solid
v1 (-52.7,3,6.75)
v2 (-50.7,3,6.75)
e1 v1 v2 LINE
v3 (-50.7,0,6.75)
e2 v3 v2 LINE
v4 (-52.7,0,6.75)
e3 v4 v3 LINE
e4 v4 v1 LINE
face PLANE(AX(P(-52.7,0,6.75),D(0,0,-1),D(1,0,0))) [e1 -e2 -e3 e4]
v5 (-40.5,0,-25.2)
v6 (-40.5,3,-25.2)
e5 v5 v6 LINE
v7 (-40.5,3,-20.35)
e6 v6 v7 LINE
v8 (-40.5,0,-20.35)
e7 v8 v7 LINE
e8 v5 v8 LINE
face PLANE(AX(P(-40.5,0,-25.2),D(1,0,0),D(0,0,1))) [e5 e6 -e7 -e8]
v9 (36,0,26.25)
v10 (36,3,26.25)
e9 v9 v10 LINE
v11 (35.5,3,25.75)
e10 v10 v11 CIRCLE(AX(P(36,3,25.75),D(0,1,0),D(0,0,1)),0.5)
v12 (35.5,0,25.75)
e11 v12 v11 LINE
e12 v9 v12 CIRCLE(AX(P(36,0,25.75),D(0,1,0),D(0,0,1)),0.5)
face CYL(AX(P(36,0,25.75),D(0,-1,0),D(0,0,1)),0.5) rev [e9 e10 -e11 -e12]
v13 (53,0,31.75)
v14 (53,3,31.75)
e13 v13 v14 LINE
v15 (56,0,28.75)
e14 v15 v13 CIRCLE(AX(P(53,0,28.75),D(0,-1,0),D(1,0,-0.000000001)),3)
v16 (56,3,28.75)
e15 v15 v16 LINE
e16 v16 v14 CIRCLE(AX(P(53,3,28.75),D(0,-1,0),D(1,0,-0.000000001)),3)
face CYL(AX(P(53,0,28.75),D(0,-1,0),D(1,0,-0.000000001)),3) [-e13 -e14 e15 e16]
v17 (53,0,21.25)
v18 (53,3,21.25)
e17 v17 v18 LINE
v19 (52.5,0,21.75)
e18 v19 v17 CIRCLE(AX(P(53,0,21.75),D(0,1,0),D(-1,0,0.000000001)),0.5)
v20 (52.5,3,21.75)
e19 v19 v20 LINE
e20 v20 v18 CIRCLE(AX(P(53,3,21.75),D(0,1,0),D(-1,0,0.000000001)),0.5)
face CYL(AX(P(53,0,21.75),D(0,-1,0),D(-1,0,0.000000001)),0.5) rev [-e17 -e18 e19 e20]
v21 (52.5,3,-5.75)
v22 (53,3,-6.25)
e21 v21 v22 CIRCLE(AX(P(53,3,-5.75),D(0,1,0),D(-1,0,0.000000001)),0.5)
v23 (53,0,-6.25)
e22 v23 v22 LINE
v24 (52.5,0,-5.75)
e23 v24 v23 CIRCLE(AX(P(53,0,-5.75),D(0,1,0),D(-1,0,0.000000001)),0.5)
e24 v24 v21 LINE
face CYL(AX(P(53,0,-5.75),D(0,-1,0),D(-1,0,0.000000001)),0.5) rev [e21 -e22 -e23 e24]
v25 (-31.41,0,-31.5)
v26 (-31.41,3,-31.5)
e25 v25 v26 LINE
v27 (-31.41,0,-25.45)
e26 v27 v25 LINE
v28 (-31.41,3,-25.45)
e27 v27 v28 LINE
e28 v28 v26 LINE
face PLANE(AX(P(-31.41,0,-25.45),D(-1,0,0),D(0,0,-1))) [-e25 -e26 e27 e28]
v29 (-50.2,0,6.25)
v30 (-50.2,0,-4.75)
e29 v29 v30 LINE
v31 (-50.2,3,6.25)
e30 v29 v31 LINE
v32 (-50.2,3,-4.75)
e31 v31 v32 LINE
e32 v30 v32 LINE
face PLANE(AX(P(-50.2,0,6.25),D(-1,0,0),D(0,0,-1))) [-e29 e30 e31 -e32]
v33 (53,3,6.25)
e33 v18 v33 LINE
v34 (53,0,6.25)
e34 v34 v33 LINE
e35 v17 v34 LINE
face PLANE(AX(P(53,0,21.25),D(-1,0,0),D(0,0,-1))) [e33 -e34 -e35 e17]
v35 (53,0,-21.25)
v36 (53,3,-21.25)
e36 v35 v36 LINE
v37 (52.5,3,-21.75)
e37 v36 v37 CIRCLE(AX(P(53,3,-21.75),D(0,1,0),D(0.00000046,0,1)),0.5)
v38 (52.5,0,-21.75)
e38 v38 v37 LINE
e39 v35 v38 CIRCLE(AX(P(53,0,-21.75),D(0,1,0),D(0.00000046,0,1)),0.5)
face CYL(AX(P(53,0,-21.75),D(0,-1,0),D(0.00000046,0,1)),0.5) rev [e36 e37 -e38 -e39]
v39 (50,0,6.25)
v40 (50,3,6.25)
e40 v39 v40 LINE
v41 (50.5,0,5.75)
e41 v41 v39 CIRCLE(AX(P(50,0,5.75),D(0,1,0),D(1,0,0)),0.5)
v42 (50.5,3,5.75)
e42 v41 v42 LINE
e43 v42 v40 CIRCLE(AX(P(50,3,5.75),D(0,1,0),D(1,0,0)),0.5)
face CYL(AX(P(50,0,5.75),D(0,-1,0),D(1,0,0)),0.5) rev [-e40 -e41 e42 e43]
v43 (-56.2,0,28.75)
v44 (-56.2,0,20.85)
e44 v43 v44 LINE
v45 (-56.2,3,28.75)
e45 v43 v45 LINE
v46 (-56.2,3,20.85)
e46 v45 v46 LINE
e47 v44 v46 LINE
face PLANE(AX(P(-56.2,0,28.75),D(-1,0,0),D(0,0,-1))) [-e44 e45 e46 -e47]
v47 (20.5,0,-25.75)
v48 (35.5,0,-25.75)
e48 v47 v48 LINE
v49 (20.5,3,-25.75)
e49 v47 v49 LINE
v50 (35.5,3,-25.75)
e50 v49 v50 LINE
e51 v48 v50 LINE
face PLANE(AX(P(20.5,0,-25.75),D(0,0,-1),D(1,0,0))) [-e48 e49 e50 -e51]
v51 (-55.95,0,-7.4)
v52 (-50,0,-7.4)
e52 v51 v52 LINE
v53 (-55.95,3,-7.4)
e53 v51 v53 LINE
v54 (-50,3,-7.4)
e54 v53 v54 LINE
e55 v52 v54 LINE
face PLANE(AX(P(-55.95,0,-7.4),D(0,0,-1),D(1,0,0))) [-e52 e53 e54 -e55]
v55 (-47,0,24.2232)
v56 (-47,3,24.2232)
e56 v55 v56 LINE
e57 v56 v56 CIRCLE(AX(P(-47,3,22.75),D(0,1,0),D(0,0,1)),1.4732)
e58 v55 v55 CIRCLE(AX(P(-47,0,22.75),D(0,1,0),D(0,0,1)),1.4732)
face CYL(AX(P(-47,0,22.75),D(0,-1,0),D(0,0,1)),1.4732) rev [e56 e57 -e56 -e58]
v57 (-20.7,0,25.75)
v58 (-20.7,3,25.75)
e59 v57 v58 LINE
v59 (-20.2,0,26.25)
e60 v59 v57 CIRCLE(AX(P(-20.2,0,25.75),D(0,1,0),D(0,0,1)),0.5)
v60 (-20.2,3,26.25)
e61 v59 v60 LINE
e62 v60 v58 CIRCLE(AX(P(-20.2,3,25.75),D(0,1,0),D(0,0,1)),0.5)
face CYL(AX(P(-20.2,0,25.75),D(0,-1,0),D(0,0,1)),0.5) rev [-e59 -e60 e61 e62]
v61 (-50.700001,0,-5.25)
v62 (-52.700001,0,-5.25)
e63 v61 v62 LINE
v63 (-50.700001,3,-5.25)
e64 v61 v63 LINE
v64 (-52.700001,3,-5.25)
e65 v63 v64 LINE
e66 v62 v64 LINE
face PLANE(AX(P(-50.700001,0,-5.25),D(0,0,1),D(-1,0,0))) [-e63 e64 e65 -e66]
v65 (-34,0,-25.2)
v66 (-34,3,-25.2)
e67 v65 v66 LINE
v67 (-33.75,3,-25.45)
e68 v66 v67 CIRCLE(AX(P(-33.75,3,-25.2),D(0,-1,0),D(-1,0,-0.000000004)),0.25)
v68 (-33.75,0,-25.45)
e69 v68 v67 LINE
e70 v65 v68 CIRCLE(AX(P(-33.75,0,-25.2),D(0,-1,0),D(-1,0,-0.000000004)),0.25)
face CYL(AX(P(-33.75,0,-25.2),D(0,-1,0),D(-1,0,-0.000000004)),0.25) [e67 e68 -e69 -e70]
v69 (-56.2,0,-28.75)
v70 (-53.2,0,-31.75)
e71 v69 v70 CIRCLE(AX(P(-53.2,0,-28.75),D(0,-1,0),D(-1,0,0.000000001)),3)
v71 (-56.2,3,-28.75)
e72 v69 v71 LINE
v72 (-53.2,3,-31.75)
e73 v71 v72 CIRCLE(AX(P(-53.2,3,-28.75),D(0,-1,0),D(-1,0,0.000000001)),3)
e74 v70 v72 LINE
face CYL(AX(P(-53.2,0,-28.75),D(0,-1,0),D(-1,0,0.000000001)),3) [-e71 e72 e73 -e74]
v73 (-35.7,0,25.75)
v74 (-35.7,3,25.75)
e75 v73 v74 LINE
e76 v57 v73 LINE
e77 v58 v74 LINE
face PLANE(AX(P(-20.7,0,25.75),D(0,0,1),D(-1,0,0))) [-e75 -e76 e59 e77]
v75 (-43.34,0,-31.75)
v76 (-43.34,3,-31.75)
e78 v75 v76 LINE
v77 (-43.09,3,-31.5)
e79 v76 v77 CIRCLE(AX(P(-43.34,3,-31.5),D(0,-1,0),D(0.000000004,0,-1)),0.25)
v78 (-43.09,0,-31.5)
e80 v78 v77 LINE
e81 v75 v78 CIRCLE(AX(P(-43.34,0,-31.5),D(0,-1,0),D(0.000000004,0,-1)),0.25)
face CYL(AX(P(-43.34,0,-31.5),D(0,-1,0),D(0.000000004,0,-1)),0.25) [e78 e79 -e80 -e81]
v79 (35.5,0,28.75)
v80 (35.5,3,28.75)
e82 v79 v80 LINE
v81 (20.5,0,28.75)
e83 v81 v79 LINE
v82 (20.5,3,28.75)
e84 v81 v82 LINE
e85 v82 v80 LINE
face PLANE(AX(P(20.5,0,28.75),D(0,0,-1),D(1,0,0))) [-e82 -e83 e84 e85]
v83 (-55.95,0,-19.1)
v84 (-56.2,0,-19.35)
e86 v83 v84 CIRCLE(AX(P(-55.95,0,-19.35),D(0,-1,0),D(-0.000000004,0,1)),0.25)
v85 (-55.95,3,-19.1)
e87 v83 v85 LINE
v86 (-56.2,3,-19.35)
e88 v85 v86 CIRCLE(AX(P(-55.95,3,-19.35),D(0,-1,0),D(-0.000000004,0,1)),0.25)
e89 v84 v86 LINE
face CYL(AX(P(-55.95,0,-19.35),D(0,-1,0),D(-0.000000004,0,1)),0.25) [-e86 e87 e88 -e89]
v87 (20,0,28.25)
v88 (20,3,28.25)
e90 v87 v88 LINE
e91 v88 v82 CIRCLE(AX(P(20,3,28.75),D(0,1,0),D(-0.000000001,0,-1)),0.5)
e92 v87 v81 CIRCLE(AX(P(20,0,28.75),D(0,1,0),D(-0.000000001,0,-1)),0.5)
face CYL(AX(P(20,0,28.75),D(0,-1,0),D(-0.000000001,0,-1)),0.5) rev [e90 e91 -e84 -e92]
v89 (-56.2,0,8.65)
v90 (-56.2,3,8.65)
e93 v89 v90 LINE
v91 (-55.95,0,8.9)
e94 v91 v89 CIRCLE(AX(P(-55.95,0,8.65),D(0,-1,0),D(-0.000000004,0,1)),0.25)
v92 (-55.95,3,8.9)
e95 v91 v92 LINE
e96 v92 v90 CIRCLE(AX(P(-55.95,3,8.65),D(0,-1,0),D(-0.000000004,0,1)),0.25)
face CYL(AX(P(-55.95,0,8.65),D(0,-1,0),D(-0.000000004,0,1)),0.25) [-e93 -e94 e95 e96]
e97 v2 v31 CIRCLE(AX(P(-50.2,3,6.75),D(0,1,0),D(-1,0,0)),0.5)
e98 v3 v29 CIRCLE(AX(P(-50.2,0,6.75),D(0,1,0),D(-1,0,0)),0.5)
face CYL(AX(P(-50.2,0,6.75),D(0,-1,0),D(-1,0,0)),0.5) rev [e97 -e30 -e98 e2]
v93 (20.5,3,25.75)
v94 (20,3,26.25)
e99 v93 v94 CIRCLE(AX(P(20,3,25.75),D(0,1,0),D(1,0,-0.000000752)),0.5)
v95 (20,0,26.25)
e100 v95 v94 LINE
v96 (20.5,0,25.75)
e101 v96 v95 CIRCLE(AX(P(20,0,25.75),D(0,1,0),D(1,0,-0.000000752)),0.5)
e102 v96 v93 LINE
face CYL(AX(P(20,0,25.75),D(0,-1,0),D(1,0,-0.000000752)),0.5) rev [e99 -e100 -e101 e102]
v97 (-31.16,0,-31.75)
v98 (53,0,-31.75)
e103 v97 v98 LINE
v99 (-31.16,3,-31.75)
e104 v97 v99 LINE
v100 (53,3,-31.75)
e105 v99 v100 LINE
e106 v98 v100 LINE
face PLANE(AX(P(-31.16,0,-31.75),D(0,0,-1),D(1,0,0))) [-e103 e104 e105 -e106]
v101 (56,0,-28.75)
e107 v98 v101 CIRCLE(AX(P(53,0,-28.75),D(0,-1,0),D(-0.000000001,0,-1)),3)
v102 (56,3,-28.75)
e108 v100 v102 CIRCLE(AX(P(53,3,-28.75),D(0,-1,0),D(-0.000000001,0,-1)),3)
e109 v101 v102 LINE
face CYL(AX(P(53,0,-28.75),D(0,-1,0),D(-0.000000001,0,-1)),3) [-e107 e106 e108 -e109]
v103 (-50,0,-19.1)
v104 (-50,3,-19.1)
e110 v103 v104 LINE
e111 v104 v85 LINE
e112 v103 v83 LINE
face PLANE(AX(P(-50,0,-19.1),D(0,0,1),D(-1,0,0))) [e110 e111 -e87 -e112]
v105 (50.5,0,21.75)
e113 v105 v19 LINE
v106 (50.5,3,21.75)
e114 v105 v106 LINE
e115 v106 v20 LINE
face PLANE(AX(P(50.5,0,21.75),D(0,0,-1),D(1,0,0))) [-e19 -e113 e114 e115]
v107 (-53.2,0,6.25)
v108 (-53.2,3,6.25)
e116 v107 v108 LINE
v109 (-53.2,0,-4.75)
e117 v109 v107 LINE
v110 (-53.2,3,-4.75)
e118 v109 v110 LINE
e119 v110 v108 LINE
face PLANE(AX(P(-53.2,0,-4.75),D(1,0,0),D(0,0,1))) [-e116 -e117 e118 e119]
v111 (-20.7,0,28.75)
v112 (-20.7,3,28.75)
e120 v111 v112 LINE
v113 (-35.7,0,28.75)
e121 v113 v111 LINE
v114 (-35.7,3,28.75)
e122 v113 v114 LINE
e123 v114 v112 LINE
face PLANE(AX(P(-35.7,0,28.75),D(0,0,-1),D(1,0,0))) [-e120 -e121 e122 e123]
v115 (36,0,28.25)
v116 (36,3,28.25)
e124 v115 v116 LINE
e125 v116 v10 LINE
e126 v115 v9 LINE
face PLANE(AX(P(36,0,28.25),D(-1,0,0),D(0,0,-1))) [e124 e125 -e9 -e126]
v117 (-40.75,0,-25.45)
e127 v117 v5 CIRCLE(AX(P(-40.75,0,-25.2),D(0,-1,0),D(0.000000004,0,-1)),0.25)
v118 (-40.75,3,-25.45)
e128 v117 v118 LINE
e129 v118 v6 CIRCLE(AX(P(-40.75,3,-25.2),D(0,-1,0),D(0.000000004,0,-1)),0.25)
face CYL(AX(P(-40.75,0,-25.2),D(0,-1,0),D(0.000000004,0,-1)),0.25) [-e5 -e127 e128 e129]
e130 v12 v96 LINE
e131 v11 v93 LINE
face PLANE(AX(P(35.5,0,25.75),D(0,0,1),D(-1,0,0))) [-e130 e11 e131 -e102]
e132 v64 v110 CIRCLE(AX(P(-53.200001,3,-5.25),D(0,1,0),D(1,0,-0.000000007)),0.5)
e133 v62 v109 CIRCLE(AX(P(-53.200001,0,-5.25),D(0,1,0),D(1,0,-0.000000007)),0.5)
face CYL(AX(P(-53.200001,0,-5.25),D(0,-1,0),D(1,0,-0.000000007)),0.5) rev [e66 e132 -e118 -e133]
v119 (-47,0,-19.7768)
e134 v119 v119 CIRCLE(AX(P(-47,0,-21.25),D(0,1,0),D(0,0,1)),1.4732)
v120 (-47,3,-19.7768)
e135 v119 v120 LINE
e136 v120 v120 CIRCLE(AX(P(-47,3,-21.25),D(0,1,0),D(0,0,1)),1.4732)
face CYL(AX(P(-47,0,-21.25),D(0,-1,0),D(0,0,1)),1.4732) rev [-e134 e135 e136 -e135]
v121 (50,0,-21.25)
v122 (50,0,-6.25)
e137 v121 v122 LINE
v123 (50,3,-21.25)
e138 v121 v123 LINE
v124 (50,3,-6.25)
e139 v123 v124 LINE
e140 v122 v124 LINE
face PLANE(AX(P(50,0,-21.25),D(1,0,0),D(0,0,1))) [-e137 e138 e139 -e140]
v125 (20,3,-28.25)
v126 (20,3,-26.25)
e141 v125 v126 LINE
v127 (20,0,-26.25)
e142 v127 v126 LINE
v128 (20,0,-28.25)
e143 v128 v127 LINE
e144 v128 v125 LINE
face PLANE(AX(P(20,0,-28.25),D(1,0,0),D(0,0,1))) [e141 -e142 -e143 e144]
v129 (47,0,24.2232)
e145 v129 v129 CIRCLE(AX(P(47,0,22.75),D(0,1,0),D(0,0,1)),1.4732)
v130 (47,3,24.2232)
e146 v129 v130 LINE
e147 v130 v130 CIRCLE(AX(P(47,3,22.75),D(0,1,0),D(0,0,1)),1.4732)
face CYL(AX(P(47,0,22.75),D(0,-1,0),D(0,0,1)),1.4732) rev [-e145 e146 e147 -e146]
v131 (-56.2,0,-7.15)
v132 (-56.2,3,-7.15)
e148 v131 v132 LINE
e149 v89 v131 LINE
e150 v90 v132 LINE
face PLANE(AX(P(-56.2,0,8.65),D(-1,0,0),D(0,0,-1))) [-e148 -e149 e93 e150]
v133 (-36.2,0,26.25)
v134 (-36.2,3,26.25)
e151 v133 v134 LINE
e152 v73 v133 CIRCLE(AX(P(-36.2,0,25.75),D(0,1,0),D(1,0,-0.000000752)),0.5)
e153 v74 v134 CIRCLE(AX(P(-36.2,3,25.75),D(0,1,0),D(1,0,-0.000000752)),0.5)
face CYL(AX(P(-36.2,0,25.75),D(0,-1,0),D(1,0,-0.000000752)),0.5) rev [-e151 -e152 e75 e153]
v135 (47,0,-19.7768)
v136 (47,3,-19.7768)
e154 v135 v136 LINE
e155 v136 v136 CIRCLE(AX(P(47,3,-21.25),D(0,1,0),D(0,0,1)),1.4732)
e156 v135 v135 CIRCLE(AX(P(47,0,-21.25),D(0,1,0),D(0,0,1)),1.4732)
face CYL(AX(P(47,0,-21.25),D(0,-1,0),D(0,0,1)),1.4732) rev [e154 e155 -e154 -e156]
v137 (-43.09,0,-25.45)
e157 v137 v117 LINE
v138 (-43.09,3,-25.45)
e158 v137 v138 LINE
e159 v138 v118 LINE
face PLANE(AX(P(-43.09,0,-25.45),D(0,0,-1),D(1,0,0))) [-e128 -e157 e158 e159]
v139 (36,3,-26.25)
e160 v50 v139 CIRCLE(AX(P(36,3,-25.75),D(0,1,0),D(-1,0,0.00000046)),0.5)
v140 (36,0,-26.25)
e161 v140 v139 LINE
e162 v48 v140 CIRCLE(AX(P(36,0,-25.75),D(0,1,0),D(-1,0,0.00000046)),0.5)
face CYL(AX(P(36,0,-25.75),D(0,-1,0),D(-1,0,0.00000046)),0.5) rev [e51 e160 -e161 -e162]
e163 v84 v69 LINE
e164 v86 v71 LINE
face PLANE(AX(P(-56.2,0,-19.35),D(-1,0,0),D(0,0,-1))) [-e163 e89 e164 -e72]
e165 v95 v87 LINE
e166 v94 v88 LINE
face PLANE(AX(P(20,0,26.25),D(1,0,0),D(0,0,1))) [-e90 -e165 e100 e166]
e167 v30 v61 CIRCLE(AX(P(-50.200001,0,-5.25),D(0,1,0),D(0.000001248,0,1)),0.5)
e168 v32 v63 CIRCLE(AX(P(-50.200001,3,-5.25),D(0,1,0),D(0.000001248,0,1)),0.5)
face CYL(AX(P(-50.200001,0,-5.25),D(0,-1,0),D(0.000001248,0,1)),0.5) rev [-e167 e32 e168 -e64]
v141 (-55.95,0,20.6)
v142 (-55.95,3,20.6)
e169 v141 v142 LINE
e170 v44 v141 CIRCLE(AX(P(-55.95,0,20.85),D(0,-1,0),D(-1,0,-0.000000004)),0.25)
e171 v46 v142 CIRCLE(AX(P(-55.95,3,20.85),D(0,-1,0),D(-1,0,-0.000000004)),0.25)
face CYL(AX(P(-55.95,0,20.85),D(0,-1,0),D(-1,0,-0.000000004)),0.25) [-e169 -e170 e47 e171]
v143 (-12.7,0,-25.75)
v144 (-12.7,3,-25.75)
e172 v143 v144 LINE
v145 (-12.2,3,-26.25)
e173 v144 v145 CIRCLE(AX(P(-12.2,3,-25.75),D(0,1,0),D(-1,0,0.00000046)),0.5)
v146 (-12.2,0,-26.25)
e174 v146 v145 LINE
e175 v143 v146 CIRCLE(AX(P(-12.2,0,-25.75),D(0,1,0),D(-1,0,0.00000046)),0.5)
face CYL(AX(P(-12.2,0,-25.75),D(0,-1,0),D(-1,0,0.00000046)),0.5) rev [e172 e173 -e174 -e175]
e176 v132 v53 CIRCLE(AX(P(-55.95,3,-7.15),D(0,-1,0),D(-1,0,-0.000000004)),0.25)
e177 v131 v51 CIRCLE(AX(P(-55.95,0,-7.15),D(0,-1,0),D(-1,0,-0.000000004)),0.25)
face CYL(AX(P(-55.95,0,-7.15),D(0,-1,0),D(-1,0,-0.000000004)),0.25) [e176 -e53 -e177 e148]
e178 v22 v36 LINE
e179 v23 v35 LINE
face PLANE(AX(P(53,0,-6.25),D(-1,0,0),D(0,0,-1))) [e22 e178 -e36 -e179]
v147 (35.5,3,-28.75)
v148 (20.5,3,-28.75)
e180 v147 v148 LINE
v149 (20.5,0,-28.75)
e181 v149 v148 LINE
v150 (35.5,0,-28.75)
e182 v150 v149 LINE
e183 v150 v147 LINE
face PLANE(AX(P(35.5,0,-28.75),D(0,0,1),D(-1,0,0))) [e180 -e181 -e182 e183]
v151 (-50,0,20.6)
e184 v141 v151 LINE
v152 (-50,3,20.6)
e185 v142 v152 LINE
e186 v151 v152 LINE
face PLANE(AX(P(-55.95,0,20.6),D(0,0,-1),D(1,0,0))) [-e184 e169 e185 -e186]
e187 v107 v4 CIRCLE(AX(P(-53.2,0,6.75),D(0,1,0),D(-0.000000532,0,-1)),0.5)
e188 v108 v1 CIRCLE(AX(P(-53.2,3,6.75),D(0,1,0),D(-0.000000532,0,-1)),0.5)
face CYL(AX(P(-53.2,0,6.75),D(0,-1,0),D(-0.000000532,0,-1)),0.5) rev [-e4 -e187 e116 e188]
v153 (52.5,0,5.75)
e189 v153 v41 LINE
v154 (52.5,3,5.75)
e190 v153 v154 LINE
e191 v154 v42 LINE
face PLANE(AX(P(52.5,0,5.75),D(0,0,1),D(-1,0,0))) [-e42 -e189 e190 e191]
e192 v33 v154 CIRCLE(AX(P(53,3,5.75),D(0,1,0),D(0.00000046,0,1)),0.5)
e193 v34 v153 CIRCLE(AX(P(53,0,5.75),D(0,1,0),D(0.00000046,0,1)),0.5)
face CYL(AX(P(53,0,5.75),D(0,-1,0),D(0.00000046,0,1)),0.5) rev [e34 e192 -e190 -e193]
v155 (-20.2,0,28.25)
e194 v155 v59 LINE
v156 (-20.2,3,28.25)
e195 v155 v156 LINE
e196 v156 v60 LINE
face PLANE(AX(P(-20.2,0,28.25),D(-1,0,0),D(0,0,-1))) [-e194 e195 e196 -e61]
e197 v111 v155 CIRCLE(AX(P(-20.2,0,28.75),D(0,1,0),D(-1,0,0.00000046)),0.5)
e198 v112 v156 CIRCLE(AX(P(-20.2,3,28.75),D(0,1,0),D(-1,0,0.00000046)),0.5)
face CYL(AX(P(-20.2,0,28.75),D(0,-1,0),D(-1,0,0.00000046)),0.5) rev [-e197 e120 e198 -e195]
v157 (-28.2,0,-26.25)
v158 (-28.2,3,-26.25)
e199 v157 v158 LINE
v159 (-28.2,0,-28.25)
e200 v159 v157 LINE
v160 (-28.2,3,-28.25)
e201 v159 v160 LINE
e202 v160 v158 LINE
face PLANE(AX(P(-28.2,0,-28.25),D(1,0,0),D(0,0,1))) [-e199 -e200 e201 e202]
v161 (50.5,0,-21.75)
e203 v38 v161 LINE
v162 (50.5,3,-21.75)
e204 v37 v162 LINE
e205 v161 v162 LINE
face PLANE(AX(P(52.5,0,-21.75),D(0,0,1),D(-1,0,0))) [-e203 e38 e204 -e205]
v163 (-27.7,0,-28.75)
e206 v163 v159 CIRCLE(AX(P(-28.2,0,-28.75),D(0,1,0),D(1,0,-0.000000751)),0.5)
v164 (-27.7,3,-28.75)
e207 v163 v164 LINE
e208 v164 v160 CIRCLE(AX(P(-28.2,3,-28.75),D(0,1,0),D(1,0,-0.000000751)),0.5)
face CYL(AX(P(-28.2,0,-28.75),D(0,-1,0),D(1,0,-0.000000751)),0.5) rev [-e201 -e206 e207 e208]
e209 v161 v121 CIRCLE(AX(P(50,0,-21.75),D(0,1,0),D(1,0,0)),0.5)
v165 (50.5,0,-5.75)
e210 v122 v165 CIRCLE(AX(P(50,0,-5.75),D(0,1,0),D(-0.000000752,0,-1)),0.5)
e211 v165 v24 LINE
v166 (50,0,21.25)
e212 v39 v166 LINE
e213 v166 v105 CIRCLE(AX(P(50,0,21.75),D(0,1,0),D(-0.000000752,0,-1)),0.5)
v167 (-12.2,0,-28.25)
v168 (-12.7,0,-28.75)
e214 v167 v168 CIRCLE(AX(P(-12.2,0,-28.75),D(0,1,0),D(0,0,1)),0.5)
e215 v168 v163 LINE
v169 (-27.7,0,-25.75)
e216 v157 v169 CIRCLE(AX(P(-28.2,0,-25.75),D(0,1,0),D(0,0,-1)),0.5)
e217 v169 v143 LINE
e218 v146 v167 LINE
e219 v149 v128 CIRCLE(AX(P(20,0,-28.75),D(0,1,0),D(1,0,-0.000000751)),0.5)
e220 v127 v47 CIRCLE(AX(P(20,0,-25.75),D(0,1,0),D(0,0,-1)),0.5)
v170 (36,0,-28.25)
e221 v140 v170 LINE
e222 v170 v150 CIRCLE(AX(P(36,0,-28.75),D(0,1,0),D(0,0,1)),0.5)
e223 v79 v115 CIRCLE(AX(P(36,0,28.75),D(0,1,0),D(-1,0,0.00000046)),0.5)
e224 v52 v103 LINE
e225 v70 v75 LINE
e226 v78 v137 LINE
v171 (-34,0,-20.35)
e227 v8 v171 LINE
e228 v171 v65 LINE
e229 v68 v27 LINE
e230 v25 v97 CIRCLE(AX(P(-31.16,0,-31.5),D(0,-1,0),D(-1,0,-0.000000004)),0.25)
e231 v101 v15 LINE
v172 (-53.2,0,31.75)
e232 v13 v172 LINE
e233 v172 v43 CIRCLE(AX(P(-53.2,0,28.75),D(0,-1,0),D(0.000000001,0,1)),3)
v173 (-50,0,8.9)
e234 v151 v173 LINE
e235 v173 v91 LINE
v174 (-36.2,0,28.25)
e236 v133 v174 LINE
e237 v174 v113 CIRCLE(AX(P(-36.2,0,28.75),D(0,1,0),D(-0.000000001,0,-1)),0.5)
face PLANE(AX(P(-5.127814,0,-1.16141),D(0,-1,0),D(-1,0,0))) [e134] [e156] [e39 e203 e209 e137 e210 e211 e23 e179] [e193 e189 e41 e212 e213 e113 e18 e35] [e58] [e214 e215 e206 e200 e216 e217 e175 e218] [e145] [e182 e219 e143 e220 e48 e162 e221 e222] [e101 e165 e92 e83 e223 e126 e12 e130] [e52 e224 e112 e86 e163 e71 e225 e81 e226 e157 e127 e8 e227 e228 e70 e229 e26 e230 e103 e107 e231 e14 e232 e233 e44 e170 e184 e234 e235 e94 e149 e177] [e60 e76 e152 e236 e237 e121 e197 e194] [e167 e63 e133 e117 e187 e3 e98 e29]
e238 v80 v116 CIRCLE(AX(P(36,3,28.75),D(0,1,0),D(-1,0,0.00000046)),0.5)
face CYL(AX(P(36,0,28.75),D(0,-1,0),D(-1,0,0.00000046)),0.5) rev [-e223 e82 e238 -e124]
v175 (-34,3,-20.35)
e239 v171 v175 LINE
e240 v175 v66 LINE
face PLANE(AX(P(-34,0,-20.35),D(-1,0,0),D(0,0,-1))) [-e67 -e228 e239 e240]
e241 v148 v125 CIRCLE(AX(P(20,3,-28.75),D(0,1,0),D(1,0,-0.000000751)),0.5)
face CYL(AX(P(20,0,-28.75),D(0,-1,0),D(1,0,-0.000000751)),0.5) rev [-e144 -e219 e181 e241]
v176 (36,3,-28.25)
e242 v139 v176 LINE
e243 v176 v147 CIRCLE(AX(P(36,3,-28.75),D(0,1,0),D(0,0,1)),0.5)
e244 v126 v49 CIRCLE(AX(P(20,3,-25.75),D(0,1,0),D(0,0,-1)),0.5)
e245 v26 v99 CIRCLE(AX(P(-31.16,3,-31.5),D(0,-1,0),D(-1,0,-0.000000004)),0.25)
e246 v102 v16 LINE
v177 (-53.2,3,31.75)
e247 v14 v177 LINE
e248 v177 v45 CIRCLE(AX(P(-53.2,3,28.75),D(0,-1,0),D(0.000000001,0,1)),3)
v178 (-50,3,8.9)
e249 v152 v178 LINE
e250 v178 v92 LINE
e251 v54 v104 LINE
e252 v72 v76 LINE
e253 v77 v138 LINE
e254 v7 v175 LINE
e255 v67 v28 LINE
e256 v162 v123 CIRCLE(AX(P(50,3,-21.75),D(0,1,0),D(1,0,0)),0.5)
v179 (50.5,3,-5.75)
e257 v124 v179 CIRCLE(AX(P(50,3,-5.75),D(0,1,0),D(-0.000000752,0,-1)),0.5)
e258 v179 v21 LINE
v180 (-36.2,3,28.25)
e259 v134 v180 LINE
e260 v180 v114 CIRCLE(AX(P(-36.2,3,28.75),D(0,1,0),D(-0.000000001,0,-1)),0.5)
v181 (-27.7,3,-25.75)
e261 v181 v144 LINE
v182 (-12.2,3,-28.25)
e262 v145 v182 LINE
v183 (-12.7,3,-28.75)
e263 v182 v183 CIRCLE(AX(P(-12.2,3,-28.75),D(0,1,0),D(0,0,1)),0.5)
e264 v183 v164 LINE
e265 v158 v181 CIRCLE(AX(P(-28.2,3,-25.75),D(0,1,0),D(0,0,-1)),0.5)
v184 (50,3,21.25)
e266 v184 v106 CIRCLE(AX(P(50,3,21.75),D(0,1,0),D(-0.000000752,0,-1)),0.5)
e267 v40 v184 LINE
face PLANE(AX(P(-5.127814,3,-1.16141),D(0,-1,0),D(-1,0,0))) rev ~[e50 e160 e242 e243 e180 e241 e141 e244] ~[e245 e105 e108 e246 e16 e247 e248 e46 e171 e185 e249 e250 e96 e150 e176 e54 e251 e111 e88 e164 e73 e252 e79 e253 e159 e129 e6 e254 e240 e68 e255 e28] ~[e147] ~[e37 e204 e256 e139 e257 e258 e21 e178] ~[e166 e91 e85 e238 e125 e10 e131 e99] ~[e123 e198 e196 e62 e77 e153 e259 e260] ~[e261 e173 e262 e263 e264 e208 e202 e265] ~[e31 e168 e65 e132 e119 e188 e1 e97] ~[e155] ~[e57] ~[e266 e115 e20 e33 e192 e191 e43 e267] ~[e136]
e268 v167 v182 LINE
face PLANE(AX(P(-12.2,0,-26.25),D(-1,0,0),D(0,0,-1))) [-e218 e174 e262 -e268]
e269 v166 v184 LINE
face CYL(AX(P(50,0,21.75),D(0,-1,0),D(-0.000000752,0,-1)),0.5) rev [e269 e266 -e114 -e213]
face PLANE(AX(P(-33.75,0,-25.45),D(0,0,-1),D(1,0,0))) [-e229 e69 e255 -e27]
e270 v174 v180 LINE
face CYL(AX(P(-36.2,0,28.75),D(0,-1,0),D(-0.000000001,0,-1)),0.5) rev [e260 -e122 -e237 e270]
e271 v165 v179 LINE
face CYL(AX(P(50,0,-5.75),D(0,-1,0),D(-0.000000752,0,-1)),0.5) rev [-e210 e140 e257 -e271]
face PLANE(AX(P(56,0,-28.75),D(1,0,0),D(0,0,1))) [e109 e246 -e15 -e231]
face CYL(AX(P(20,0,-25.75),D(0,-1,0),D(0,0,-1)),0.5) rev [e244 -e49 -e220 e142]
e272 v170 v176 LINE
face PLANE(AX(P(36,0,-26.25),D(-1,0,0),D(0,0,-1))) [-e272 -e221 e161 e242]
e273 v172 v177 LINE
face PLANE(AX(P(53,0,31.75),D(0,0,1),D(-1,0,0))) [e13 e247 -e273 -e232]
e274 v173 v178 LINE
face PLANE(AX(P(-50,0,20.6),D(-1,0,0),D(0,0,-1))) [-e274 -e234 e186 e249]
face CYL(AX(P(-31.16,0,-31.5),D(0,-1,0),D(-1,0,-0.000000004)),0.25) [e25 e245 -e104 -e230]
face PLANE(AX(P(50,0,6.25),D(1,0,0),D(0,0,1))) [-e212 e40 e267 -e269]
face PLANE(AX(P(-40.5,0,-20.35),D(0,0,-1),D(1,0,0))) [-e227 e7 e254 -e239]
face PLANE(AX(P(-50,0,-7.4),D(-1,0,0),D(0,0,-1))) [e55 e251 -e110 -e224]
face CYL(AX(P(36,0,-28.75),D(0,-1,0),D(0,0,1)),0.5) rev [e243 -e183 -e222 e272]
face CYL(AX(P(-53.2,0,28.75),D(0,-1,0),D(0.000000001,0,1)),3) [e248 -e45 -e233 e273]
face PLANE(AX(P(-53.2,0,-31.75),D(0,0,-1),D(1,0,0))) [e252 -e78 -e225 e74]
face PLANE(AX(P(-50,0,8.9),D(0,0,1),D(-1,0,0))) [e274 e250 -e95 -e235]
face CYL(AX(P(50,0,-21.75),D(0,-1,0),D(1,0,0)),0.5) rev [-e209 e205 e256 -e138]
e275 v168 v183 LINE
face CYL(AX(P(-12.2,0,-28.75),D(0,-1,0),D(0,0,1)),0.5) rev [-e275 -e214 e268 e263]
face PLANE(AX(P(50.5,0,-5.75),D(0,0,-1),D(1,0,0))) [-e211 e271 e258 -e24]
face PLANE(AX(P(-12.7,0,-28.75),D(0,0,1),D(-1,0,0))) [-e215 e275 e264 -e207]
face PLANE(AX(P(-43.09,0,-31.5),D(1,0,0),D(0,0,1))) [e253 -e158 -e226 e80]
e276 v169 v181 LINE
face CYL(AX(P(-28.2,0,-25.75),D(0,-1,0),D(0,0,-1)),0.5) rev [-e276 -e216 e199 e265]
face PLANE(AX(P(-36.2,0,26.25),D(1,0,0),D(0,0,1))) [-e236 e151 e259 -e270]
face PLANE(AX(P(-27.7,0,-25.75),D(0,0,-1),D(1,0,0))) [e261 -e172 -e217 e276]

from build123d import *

# Parameters (mm, degrees)
SKETCH1_R           = 1.4732
BOSS_EXTRUDE1_DEPTH = 3


with BuildPart() as part:
    # Sketch1 → Boss-Extrude1 (new body)
    with BuildSketch(Plane(origin=(0, 0, 0), x_dir=(1, 0, 0), z_dir=(0, 1, 0))):
        with BuildLine():
            Line((-33.75, 25.45), (-31.41, 25.45))
            Line((-31.41, 25.45), (-31.41, 31.5))
            ThreePointArc((-31.41, 31.5), (-31.336776695, 31.676776695), (-31.16, 31.75))
            Line((-31.16, 31.75), (53, 31.75))
            ThreePointArc((53, 31.75), (55.121320344, 30.871320344), (56, 28.75))
            Line((56, 28.75), (56, -28.75))
            ThreePointArc((56, -28.75), (55.121320344, -30.871320344), (53, -31.75))
            Line((53, -31.75), (-53.2, -31.75))
            ThreePointArc((-53.2, -31.75), (-55.321320344, -30.871320344), (-56.2, -28.75))
            Line((-56.2, -28.75), (-56.2, -20.85))
            ThreePointArc((-56.2, -20.85), (-56.126776695, -20.673223305), (-55.95, -20.6))
            Line((-55.95, -20.6), (-50, -20.6))
            Line((-50, -20.6), (-50, -8.9))
            Line((-50, -8.9), (-55.95, -8.9))
            ThreePointArc((-55.95, -8.9), (-56.126776695, -8.826776695), (-56.2, -8.65))
            Line((-56.2, -8.65), (-56.2, 7.15))
            ThreePointArc((-56.2, 7.15), (-56.126776695, 7.326776695), (-55.95, 7.4))
            Line((-55.95, 7.4), (-50, 7.4))
            Line((-50, 7.4), (-50, 19.1))
            Line((-50, 19.1), (-55.95, 19.1))
            ThreePointArc((-55.95, 19.1), (-56.126776695, 19.173223305), (-56.2, 19.35))
            Line((-56.2, 19.35), (-56.2, 28.75))
            ThreePointArc((-56.2, 28.75), (-55.321320344, 30.871320344), (-53.2, 31.75))
            Line((-53.2, 31.75), (-43.34, 31.75))
            ThreePointArc((-43.34, 31.75), (-43.163223305, 31.676776695), (-43.09, 31.5))
            Line((-43.09, 31.5), (-43.09, 25.45))
            Line((-43.09, 25.45), (-40.75, 25.45))
            ThreePointArc((-40.75, 25.45), (-40.573223305, 25.376776695), (-40.5, 25.2))
            Line((-40.5, 25.2), (-40.5, 20.35))
            Line((-40.5, 20.35), (-34, 20.35))
            Line((-34, 20.35), (-34, 25.2))
            ThreePointArc((-34, 25.2), (-33.926776695, 25.376776695), (-33.75, 25.45))
        make_face()
        with Locations(Location((-47, 21.25, 0), (0, 0, 270))):
            Circle(SKETCH1_R, mode=Mode.SUBTRACT)
        with Locations(Location((-47, -22.75, 0), (0, 0, 270))):
            Circle(SKETCH1_R, mode=Mode.SUBTRACT)
        with Locations(Location((47, -22.75, 0), (0, 0, 270))):
            Circle(SKETCH1_R, mode=Mode.SUBTRACT)
        with Locations(Location((47, 21.25, 0), (0, 0, 270))):
            Circle(SKETCH1_R, mode=Mode.SUBTRACT)
        with BuildLine():
            Line((-52.699999734, -6.75), (-50.699999734, -6.75))
            ThreePointArc((-50.699999734, -6.75), (-49.84644625, -7.103553297), (-50.2, -6.25))
            Line((-50.2, -6.25), (-50.2, 4.749999991))
            ThreePointArc((-50.2, 4.749999991), (-49.846447452, 5.603553619), (-50.700000632, 5.25))
            Line((-50.700000632, 5.25), (-52.700000632, 5.25))
            ThreePointArc((-52.700000632, 5.25), (-53.553554237, 5.603553165), (-53.2, 4.75))
            Line((-53.2, 4.75), (-53.2, -6.25))
            ThreePointArc((-53.2, -6.25), (-53.553553031, -7.103553485), (-52.699999734, -6.75))
        make_face(mode=Mode.SUBTRACT)
        with BuildLine():
            Line((-28.2, 28.249999625), (-28.2, 26.249999625))
            ThreePointArc((-28.2, 26.249999625), (-28.553553309, 25.396446153), (-27.7, 25.749999854))
            Line((-27.7, 25.749999854), (-12.7, 25.749999854))
            ThreePointArc((-12.7, 25.749999854), (-11.846446528, 25.396446775), (-12.2, 26.250000084))
            Line((-12.2, 26.250000084), (-12.2, 28.250000084))
            ThreePointArc((-12.2, 28.250000084), (-11.846446639, 29.103553504), (-12.7, 28.75))
            Line((-12.7, 28.75), (-27.7, 28.75))
            ThreePointArc((-27.7, 28.75), (-28.553553523, 29.103552882), (-28.2, 28.249999625))
        make_face(mode=Mode.SUBTRACT)
        with BuildLine():
            Line((20, 28.249999625), (20, 26.249999625))
            ThreePointArc((20, 26.249999625), (19.646446691, 25.396446153), (20.5, 25.749999854))
            Line((20.5, 25.749999854), (35.5, 25.749999854))
            ThreePointArc((35.5, 25.749999854), (36.353553472, 25.396446775), (36, 26.250000084))
            Line((36, 26.250000084), (36, 28.250000084))
            ThreePointArc((36, 28.250000084), (36.353553361, 29.103553504), (35.5, 28.75))
            Line((35.5, 28.75), (20.5, 28.75))
            ThreePointArc((20.5, 28.75), (19.646446477, 29.103552882), (20, 28.249999625))
        make_face(mode=Mode.SUBTRACT)
        with BuildLine():
            Line((-36.2, -26.250000146), (-36.2, -28.250000146))
            ThreePointArc((-36.2, -28.250000146), (-36.553553309, -29.103553617), (-35.7, -28.749999916))
            Line((-35.7, -28.749999916), (-20.7, -28.749999916))
            ThreePointArc((-20.7, -28.749999916), (-19.846446528, -29.103552995), (-20.2, -28.249999686))
            Line((-20.2, -28.249999686), (-20.2, -26.249999686))
            ThreePointArc((-20.2, -26.249999686), (-19.846446639, -25.396446266), (-20.7, -25.74999977))
            Line((-20.7, -25.74999977), (-35.7, -25.74999977))
            ThreePointArc((-35.7, -25.74999977), (-36.553553523, -25.396446888), (-36.2, -26.250000146))
        make_face(mode=Mode.SUBTRACT)
        with BuildLine():
            Line((20, -26.250000146), (20, -28.250000146))
            ThreePointArc((20, -28.250000146), (19.646446691, -29.103553617), (20.5, -28.749999916))
            Line((20.5, -28.749999916), (35.5, -28.749999916))
            ThreePointArc((35.5, -28.749999916), (36.353553472, -29.103552995), (36, -28.249999686))
            Line((36, -28.249999686), (36, -26.249999686))
            ThreePointArc((36, -26.249999686), (36.353553361, -25.396446266), (35.5, -25.74999977))
            Line((35.5, -25.74999977), (20.5, -25.74999977))
            ThreePointArc((20.5, -25.74999977), (19.646446477, -25.396446888), (20, -26.250000146))
        make_face(mode=Mode.SUBTRACT)
        with BuildLine():
            Line((50.500000146, -21.75), (52.500000146, -21.75))
            ThreePointArc((52.500000146, -21.75), (53.353553617, -22.103553309), (52.999999916, -21.25))
            Line((52.999999916, -21.25), (52.999999916, -6.25))
            ThreePointArc((52.999999916, -6.25), (53.353552995, -5.396446528), (52.499999686, -5.75))
            Line((52.499999686, -5.75), (50.499999686, -5.75))
            ThreePointArc((50.499999686, -5.75), (49.646446266, -5.396446639), (49.99999977, -6.25))
            Line((49.99999977, -6.25), (49.99999977, -21.25))
            ThreePointArc((49.99999977, -21.25), (49.646446888, -22.103553523), (50.500000146, -21.75))
        make_face(mode=Mode.SUBTRACT)
        with BuildLine():
            Line((50.500000146, 5.75), (52.500000146, 5.75))
            ThreePointArc((52.500000146, 5.75), (53.353553617, 5.396446691), (52.999999916, 6.25))
            Line((52.999999916, 6.25), (52.999999916, 21.25))
            ThreePointArc((52.999999916, 21.25), (53.353552995, 22.103553472), (52.499999686, 21.75))
            Line((52.499999686, 21.75), (50.499999686, 21.75))
            ThreePointArc((50.499999686, 21.75), (49.646446266, 22.103553361), (49.99999977, 21.25))
            Line((49.99999977, 21.25), (49.99999977, 6.25))
            ThreePointArc((49.99999977, 6.25), (49.646446888, 5.396446477), (50.500000146, 5.75))
        make_face(mode=Mode.SUBTRACT)
    extrude(amount=BOSS_EXTRUDE1_DEPTH)


solid = part.part
